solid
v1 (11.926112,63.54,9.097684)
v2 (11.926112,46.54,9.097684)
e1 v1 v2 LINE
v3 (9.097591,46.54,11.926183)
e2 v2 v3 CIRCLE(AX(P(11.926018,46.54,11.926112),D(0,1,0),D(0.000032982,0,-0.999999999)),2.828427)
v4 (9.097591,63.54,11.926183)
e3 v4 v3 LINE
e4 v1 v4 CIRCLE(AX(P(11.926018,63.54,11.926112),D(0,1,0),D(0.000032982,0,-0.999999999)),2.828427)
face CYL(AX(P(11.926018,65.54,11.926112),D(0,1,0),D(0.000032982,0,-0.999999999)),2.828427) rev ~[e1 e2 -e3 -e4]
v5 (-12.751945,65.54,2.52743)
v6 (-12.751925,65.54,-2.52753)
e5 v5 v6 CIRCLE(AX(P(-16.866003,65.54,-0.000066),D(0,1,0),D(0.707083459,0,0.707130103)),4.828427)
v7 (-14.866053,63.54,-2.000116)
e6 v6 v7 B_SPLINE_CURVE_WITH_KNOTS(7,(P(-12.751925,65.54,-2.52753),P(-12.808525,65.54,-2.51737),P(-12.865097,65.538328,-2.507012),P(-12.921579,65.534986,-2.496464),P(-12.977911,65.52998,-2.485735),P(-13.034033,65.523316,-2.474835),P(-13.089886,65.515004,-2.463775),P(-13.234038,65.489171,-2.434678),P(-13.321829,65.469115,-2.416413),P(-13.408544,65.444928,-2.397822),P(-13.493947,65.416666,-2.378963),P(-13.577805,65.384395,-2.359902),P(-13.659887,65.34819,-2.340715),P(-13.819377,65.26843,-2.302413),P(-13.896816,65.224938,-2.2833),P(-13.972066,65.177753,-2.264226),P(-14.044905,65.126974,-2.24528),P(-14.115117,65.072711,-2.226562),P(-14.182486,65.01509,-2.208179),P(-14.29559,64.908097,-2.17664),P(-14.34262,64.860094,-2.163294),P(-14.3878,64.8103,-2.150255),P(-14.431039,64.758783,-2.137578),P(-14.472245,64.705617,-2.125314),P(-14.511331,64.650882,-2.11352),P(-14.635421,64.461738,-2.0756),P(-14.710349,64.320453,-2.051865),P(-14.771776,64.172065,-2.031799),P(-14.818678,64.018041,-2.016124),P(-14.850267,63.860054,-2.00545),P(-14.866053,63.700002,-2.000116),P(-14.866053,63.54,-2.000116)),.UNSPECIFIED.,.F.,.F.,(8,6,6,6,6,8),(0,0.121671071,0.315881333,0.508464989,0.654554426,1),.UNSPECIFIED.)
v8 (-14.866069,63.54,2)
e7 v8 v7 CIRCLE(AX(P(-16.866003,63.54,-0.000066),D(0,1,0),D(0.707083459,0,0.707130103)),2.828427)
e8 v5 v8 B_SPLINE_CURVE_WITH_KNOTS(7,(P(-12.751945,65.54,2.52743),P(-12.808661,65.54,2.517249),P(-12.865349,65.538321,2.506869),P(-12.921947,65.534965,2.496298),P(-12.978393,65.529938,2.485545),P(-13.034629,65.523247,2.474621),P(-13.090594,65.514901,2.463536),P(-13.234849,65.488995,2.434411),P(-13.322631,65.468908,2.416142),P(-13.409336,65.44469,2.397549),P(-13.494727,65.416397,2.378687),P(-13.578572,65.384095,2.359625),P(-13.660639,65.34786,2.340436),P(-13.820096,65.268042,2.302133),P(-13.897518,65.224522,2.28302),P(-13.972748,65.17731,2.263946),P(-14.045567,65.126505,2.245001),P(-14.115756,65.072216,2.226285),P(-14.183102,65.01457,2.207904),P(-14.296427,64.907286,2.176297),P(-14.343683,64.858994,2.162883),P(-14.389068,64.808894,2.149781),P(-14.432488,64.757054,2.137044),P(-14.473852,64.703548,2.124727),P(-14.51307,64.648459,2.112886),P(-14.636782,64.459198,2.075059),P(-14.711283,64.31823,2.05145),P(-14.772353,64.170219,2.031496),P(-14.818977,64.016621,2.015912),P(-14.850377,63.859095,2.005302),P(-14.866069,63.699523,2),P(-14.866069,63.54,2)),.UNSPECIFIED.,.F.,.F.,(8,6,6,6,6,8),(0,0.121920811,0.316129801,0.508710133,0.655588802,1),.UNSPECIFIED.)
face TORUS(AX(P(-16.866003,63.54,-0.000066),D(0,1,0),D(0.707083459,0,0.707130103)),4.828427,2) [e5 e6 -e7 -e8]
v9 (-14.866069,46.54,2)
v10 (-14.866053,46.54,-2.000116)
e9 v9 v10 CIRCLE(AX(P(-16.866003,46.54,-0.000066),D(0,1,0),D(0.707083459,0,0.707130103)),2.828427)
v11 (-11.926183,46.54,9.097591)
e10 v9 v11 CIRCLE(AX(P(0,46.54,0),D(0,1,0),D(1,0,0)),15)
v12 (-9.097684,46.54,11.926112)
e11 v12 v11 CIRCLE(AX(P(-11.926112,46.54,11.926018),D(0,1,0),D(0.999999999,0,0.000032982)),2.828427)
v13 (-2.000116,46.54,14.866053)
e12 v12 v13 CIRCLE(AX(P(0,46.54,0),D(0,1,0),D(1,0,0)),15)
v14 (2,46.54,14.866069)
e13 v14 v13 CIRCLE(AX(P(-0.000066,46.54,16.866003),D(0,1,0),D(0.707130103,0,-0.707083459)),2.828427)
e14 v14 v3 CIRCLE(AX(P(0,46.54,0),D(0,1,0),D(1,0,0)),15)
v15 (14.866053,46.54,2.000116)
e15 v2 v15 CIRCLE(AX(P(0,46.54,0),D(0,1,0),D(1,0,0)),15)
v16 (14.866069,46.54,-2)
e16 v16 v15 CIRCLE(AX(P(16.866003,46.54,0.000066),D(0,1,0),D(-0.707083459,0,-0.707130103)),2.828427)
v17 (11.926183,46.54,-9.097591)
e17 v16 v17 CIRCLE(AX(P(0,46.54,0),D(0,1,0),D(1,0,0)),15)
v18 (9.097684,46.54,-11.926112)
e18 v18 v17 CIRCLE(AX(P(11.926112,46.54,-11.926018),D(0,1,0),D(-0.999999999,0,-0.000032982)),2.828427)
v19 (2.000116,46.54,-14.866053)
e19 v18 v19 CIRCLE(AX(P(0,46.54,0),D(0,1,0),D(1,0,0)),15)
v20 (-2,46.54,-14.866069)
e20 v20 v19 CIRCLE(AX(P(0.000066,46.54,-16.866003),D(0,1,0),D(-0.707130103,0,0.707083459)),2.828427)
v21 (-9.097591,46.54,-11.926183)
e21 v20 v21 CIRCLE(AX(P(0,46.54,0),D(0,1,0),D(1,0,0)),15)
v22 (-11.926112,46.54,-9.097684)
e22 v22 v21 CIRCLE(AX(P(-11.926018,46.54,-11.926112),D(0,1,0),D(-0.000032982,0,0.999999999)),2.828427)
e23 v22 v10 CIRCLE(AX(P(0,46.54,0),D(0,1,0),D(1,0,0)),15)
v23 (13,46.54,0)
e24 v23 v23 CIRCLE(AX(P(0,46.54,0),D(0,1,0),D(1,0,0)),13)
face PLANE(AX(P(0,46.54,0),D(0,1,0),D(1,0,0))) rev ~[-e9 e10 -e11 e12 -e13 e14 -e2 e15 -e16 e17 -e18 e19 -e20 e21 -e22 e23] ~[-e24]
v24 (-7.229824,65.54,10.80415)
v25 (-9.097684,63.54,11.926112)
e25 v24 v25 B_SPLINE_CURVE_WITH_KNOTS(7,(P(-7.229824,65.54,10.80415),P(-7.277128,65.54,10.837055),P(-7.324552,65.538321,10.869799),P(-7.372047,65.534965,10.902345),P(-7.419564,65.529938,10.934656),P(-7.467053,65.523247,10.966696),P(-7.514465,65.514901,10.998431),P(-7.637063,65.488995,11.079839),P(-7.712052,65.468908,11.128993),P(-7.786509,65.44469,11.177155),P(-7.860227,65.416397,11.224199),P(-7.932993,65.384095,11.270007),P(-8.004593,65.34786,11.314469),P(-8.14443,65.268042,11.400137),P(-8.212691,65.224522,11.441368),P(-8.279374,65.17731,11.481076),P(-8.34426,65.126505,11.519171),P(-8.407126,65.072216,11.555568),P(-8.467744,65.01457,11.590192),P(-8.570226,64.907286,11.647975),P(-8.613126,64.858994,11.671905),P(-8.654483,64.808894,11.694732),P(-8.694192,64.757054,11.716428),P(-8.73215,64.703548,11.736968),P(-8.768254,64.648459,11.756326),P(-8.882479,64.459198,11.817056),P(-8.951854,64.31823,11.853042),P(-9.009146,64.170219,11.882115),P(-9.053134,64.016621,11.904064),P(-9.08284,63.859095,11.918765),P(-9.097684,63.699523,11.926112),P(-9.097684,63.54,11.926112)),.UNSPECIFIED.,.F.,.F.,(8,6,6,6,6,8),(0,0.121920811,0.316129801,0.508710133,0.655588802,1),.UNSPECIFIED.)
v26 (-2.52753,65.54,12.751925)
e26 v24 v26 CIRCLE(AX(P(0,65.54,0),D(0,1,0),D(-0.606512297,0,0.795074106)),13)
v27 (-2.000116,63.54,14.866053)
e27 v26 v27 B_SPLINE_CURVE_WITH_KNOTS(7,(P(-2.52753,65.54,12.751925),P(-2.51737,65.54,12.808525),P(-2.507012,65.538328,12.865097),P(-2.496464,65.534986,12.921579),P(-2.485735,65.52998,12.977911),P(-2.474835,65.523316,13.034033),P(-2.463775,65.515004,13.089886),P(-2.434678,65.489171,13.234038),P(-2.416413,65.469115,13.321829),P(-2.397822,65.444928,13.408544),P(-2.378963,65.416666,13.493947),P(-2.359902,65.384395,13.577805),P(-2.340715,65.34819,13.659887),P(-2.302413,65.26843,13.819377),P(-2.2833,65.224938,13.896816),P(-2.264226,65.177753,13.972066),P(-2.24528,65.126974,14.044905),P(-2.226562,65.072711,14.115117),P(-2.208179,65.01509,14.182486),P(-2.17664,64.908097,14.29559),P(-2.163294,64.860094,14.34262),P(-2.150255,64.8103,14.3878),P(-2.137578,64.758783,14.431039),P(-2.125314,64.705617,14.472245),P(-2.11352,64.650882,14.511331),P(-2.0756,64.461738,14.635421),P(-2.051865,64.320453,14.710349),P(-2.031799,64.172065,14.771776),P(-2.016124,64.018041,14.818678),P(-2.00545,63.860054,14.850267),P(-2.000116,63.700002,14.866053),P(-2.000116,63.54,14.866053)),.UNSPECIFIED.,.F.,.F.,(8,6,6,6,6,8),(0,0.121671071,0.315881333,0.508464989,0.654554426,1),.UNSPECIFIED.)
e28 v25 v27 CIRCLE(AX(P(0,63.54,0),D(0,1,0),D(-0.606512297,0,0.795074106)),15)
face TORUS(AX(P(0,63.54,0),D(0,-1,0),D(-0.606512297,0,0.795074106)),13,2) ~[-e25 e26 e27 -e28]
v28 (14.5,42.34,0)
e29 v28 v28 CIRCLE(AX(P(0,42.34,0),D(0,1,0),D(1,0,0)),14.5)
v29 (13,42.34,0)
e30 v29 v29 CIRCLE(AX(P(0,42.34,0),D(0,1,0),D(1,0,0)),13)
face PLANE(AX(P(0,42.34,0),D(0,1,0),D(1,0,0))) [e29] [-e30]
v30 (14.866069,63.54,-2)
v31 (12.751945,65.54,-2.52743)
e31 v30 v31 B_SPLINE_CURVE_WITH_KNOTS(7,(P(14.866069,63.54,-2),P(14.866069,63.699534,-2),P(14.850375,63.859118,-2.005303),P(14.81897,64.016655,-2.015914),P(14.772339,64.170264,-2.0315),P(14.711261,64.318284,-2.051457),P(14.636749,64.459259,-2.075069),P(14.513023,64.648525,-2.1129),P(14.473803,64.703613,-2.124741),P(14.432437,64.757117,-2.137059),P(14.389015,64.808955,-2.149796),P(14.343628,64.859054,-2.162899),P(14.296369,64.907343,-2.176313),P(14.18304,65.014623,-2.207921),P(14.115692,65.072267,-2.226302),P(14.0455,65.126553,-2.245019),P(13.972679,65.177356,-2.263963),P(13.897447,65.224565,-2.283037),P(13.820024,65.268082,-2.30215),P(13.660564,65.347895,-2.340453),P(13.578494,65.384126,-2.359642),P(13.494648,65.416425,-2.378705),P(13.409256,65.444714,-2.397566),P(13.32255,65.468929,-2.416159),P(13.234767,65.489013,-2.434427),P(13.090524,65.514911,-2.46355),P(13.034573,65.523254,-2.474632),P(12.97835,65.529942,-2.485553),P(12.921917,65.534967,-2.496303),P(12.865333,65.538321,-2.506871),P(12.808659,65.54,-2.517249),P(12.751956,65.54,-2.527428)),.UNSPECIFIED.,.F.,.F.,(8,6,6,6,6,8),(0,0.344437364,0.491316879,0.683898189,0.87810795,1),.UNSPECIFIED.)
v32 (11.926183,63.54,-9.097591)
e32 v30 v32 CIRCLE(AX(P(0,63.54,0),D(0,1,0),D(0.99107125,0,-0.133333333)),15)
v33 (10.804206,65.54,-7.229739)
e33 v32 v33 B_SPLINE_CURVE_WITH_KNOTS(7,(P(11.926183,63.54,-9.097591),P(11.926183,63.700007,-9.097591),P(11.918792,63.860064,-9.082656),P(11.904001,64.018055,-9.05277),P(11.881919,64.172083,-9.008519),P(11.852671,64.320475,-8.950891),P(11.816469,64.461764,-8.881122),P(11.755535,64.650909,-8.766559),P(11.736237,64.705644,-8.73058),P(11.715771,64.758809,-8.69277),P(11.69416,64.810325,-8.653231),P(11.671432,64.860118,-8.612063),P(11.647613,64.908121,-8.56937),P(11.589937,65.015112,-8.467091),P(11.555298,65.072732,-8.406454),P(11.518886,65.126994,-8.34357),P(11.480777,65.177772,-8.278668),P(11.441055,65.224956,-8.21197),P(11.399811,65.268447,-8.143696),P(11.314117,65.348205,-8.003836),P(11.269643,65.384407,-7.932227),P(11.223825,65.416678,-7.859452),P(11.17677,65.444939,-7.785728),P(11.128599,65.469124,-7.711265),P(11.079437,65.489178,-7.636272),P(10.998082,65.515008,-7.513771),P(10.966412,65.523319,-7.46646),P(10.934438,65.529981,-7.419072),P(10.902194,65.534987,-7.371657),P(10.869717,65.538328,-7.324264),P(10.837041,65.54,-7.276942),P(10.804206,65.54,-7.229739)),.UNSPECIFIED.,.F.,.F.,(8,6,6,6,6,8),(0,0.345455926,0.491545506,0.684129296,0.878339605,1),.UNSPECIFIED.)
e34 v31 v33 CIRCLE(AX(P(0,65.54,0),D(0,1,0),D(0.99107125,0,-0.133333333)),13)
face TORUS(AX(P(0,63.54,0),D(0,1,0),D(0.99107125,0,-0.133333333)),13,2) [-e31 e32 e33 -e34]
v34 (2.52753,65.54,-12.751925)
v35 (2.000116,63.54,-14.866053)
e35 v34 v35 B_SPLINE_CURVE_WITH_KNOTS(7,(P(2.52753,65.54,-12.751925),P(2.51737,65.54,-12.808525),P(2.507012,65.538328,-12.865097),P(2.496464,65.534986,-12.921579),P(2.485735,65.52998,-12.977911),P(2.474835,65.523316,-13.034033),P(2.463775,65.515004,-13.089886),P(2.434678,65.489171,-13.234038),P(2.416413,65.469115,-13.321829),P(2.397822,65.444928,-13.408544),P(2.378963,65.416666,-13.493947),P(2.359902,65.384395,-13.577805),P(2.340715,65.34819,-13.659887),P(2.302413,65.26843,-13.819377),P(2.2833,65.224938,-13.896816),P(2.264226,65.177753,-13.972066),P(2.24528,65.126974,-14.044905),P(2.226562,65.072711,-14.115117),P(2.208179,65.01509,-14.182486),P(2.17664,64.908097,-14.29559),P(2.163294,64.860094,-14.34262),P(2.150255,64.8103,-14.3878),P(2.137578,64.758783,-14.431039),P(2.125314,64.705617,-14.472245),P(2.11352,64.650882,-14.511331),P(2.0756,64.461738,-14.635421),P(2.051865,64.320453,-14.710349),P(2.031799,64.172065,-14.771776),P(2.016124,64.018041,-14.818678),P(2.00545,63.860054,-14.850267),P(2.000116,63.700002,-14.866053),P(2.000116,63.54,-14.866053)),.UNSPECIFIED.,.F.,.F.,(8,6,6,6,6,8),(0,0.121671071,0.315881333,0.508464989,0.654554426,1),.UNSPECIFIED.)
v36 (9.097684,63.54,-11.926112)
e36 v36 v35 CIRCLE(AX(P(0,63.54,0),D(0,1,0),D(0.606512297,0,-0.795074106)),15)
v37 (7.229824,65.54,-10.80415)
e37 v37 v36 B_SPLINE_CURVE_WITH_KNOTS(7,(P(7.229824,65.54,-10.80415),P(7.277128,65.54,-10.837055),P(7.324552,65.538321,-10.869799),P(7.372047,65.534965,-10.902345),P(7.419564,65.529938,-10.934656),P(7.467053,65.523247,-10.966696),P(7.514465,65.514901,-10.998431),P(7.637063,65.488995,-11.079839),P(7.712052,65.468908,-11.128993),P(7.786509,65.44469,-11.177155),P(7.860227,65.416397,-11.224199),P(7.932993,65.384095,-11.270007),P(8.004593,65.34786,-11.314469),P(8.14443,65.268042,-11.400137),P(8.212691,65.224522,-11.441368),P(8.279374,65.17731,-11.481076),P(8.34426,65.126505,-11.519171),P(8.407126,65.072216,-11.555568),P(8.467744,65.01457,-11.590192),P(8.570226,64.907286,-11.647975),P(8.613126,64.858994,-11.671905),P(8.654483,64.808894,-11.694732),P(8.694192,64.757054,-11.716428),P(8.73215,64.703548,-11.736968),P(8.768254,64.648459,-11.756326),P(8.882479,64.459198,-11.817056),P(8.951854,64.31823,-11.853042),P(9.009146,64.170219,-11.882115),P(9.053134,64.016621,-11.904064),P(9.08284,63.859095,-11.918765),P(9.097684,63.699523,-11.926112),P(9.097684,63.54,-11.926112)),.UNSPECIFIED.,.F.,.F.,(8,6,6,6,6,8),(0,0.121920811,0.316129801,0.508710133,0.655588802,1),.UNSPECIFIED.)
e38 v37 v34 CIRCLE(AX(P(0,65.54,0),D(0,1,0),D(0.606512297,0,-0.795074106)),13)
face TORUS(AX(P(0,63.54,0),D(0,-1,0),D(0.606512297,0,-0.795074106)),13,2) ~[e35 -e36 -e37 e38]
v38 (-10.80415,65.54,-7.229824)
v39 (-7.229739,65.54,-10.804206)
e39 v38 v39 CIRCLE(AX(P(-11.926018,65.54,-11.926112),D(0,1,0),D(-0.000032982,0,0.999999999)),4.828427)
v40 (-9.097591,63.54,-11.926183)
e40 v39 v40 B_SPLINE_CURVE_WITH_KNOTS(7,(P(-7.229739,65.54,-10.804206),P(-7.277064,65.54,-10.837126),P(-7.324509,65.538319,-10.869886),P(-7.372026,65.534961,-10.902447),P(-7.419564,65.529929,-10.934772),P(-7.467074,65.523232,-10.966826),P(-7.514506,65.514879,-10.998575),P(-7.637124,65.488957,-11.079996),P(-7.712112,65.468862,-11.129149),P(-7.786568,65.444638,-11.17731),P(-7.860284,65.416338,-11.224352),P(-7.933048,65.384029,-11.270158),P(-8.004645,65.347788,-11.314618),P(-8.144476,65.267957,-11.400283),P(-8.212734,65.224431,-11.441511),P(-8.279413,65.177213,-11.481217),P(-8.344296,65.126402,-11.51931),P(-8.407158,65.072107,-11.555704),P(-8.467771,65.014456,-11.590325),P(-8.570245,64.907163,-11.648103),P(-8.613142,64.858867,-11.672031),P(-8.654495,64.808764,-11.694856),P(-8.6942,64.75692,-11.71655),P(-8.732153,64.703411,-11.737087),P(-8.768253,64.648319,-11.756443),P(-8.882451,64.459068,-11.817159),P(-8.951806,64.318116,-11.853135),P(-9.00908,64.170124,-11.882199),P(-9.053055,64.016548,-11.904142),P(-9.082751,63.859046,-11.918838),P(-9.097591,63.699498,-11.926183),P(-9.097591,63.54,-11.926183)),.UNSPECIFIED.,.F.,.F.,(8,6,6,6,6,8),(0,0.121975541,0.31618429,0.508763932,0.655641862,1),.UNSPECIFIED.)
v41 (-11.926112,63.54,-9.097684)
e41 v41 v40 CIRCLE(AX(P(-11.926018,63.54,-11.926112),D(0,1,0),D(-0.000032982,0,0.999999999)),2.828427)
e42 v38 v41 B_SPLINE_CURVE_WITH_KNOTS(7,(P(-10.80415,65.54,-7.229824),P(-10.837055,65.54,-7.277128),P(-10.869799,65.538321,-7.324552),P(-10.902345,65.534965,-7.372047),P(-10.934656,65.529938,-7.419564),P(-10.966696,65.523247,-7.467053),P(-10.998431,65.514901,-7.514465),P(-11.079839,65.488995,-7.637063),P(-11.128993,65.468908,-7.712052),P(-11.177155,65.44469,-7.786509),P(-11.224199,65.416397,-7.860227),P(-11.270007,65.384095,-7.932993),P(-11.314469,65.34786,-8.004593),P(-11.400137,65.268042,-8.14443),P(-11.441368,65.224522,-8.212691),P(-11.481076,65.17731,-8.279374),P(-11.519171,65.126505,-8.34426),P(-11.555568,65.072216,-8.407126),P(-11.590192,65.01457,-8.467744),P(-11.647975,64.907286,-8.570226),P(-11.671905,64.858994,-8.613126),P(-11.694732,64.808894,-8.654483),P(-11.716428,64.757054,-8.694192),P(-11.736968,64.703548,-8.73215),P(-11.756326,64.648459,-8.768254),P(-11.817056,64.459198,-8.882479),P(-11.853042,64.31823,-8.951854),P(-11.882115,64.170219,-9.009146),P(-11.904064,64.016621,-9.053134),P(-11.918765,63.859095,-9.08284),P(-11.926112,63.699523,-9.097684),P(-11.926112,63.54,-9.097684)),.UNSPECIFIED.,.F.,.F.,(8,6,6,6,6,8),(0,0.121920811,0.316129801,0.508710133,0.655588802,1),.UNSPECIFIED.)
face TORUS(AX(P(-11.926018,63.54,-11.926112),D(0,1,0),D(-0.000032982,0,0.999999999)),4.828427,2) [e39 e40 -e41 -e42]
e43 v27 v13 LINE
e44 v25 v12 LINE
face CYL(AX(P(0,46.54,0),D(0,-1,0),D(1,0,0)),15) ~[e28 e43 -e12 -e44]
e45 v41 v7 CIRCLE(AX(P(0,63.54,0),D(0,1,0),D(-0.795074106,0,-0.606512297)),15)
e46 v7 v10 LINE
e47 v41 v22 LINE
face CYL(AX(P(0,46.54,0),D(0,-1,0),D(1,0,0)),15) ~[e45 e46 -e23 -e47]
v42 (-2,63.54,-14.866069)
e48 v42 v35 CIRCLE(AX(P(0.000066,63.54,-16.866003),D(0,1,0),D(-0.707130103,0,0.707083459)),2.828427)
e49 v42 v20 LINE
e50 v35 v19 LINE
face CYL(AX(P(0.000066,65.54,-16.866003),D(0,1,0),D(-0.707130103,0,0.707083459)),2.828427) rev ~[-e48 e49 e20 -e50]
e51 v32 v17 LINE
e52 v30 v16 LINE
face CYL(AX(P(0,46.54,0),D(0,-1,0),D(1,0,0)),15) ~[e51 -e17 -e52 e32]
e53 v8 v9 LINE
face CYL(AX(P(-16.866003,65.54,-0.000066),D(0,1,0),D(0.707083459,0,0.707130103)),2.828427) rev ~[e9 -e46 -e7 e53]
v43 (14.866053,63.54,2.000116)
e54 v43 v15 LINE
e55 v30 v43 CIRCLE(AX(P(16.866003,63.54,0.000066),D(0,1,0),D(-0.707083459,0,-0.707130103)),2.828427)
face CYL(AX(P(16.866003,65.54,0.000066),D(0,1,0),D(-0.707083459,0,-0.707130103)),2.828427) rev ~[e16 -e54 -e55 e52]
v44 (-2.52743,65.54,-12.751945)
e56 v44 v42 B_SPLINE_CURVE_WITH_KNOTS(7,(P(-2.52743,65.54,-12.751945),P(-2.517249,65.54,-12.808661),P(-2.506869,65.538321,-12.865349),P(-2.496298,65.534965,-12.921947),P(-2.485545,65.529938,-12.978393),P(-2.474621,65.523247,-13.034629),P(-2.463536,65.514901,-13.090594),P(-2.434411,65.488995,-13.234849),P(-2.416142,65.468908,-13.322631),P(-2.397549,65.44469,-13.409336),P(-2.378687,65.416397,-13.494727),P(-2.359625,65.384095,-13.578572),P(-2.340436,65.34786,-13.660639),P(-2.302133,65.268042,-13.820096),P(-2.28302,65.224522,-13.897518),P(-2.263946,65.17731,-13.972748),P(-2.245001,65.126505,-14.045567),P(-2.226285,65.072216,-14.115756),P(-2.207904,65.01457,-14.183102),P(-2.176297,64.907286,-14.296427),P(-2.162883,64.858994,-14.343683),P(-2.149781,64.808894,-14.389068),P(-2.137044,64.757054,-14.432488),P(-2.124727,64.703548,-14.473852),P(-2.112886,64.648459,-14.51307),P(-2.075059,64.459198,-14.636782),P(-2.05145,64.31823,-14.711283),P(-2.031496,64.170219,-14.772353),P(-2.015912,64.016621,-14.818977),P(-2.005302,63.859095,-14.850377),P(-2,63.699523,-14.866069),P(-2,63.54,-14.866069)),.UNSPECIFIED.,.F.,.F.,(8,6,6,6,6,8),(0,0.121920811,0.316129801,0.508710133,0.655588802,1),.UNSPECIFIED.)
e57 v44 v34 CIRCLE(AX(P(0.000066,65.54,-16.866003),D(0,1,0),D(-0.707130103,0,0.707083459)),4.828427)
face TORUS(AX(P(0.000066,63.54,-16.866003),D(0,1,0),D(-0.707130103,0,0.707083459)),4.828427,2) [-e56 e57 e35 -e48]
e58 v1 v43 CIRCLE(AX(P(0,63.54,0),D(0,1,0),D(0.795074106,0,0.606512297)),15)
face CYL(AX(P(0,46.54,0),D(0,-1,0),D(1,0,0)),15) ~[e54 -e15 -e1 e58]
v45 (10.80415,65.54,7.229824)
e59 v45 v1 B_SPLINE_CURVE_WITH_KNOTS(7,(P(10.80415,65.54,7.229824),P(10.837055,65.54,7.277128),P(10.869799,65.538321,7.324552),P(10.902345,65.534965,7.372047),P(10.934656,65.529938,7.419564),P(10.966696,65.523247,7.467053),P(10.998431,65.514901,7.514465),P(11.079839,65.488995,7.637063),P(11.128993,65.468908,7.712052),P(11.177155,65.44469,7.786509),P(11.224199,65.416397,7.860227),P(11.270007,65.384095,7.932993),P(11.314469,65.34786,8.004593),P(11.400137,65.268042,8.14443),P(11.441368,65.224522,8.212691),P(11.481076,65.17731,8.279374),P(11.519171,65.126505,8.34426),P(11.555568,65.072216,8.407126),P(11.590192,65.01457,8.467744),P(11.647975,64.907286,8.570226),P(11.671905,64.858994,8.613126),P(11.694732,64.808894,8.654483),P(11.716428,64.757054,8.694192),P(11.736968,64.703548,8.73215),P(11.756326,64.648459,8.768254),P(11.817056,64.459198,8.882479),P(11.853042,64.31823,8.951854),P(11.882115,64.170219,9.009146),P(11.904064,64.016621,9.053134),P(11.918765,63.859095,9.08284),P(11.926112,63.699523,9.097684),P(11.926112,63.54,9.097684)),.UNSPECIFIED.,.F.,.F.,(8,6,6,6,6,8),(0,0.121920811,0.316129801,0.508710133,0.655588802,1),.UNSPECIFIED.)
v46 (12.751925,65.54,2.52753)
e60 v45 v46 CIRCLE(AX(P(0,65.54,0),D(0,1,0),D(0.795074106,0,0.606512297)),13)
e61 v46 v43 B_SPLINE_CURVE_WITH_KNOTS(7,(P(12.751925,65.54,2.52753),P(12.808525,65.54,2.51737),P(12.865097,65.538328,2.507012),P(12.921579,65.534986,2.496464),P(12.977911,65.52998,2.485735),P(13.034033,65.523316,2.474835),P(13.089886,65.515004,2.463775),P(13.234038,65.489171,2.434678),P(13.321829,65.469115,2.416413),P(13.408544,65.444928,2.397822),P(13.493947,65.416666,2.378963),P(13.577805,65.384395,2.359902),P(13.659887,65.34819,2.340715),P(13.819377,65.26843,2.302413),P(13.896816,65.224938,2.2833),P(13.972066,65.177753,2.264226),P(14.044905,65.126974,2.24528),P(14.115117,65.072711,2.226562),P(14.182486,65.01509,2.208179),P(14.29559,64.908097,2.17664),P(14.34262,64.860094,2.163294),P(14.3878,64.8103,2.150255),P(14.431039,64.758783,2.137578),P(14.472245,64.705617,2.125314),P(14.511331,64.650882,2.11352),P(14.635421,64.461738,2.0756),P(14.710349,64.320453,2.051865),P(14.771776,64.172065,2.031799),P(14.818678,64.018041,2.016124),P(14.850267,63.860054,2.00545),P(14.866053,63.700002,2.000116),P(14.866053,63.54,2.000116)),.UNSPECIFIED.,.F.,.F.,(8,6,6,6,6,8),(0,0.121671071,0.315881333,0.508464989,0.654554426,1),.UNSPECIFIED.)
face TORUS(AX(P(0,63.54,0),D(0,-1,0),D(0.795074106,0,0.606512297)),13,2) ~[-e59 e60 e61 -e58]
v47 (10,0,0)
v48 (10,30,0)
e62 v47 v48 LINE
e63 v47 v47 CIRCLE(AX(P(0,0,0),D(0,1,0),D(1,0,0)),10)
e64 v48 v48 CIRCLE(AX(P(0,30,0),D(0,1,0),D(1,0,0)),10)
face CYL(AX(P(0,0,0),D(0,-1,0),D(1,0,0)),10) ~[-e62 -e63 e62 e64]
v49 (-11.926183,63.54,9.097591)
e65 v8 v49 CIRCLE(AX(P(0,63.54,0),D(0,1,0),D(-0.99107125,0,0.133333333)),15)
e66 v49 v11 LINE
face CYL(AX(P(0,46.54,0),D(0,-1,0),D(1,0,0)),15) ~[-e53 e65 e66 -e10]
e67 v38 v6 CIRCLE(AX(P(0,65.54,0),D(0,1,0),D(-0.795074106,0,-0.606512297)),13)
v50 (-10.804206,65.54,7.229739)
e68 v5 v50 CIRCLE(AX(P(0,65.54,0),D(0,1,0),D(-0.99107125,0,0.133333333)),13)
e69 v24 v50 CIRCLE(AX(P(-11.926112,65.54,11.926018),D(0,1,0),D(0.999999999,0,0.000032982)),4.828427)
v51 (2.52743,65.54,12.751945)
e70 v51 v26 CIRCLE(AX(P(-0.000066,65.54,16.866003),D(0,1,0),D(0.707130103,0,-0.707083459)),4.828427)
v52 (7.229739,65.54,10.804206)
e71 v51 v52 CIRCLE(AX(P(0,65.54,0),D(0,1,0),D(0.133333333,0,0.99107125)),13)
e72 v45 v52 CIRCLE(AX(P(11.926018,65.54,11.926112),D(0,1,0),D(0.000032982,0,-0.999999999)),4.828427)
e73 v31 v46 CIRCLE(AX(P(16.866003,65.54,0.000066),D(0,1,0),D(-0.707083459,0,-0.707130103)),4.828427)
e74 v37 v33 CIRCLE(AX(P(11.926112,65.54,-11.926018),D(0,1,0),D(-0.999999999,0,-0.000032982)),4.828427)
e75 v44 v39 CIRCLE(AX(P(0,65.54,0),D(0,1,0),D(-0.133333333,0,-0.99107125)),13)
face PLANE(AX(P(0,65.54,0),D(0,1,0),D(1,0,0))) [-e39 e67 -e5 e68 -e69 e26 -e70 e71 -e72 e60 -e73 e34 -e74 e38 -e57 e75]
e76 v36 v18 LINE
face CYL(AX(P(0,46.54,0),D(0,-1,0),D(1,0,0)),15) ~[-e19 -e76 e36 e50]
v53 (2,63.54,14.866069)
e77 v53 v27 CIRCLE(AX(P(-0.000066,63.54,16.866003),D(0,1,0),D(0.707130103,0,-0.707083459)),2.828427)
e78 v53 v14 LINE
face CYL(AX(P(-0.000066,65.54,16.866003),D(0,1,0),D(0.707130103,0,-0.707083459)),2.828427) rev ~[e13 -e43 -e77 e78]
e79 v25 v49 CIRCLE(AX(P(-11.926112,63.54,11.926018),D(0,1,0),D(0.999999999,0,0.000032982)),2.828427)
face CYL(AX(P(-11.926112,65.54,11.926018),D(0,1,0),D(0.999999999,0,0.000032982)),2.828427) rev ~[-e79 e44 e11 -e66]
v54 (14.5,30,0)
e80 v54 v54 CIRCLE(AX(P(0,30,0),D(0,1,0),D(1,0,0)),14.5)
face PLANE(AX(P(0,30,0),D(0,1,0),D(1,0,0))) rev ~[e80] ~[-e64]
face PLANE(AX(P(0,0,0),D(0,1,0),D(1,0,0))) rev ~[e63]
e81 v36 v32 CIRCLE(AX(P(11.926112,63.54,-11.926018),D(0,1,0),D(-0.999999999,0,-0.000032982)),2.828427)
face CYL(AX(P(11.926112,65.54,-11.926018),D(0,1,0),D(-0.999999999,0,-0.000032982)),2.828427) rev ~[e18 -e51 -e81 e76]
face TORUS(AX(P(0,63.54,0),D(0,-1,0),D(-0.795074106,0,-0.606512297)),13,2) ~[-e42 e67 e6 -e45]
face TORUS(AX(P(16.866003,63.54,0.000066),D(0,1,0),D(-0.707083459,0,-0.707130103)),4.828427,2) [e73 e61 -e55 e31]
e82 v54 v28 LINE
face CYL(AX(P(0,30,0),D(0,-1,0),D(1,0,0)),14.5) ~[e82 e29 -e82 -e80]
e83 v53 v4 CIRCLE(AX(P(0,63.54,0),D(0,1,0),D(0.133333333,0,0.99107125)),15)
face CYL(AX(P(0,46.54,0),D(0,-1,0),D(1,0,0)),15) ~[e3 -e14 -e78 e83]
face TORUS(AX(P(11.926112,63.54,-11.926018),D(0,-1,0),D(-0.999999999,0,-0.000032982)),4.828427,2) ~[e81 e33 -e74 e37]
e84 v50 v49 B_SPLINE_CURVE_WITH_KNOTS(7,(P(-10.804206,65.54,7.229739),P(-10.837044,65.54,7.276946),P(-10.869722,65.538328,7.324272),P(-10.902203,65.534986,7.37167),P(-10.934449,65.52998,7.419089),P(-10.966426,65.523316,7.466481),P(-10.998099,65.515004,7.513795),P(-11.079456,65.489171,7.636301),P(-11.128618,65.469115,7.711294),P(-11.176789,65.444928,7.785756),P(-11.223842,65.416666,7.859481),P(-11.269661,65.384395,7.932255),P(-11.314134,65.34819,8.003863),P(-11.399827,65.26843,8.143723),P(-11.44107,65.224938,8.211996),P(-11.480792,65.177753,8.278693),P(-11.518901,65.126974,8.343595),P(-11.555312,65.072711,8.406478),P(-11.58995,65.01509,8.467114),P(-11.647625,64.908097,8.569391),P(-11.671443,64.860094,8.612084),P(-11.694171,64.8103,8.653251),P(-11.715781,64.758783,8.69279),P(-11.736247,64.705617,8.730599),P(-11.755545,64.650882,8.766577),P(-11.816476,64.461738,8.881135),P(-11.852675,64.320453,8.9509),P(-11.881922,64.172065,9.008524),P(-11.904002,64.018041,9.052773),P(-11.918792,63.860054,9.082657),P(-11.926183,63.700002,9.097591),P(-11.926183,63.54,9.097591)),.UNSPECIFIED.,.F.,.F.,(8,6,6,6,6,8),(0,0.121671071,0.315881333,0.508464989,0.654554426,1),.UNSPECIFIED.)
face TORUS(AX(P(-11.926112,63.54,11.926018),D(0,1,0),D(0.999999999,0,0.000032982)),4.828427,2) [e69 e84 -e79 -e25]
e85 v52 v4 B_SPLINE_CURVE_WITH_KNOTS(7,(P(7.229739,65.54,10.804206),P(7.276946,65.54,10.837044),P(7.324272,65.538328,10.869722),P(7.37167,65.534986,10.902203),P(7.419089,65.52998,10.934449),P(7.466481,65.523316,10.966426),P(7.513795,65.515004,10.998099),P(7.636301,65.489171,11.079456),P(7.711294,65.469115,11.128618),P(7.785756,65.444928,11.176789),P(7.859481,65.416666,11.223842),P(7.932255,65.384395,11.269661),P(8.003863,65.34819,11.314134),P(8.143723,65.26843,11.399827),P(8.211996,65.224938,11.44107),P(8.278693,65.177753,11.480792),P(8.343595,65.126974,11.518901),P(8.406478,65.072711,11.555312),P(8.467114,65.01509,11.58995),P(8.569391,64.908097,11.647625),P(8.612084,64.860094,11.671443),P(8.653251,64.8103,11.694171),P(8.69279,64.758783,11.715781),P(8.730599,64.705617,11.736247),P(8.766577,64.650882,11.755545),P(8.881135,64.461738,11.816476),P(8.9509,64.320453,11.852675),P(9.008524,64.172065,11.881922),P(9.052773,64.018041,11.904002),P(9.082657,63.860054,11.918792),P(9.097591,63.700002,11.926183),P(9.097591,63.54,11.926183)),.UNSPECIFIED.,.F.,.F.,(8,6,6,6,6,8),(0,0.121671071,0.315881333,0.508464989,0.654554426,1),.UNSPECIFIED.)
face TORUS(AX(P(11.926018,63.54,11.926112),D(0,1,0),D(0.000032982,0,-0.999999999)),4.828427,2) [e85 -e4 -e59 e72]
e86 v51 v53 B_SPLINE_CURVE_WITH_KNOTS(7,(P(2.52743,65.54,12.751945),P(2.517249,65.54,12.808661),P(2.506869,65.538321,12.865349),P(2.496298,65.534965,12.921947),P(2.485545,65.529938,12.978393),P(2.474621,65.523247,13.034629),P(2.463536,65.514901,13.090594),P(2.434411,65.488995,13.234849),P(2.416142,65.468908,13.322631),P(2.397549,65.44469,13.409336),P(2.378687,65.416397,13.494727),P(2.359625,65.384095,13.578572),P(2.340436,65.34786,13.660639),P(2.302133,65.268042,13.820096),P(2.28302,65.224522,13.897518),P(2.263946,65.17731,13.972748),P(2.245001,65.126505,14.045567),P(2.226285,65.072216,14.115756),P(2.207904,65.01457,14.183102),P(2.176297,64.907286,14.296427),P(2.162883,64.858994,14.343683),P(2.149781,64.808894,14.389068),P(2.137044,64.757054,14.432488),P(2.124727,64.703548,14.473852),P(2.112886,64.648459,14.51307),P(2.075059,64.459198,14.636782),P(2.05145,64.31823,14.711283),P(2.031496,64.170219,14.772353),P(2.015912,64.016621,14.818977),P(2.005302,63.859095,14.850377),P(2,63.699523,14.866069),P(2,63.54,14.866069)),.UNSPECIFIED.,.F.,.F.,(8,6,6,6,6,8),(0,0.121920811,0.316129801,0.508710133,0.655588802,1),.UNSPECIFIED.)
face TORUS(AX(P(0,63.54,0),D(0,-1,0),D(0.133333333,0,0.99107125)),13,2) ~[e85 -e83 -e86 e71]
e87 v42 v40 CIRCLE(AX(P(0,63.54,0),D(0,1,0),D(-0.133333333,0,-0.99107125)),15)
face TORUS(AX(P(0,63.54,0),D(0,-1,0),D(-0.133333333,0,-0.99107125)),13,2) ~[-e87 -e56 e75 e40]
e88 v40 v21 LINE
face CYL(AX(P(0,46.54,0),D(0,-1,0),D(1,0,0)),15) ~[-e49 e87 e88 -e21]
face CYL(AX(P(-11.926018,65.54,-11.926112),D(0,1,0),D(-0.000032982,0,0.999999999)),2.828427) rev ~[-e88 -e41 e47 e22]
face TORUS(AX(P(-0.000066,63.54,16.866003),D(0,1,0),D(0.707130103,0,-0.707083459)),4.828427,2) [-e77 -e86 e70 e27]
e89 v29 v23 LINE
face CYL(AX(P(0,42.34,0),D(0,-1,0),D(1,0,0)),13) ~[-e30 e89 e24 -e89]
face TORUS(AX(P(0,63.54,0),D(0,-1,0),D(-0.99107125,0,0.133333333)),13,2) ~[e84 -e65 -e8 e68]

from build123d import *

# Parameters (mm, degrees)
SKETCH1_R           = 10
BOSS_EXTRUDE1_DEPTH = 30
SKETCH2_R           = 14.5
BOSS_EXTRUDE2_DEPTH = 12.34
SKETCH3_R           = 13
BOSS_EXTRUDE3_DEPTH = 4.2
SKETCH4_R           = 15
BOSS_EXTRUDE4_DEPTH = 19
CUT_EXTRUDE1_DEPTH  = 19
FILLET2_R           = 2


with BuildPart() as part:
    # Sketch1 → Boss-Extrude1 (new body)
    with BuildSketch(Plane(origin=(0, 0, 0), x_dir=(1, 0, 0), z_dir=(0, 1, 0))):
        Circle(SKETCH1_R)
    extrude(amount=BOSS_EXTRUDE1_DEPTH)

    # Sketch2 → Boss-Extrude2 (add)
    with BuildSketch(Plane(origin=(0, 30, 0), x_dir=(1, 0, 0), z_dir=(0, 1, 0))):
        Circle(SKETCH2_R)
    extrude(amount=BOSS_EXTRUDE2_DEPTH)

    # Sketch3 → Boss-Extrude3 (add)
    with BuildSketch(Plane(origin=(0, 42.34, 0), x_dir=(1, 0, 0), z_dir=(0, 1, 0))):
        Circle(SKETCH3_R)
    extrude(amount=BOSS_EXTRUDE3_DEPTH)

    # Sketch4 → Boss-Extrude4 (add)
    with BuildSketch(Plane(origin=(0, 46.54, 0), x_dir=(1, 0, 0), z_dir=(0, 1, 0))):
        Circle(SKETCH4_R)
    extrude(amount=BOSS_EXTRUDE4_DEPTH)

    # Sketch5 → Cut-Extrude1 (cut)
    with BuildSketch(Plane(origin=(0, 65.54, 0), x_dir=(1, 0, 0), z_dir=(0, 1, 0))):
        with BuildLine():
            ThreePointArc((-14.866053103, 2.000116283), (-15, 5.8666e-05), (-14.866068747, -2))
            ThreePointArc((-14.866068747, -2), (-14.037575657, 5.4901e-05), (-14.866053103, 2.000116283))
        make_face()
        with BuildLine():
            ThreePointArc((-2, 14.866068747), (5.4901e-05, 14.037575657), (2.000116283, 14.866053103))
            ThreePointArc((2.000116283, 14.866053103), (5.8666e-05, 15), (-2, 14.866068747))
        make_face()
        with BuildLine():
            ThreePointArc((9.097684458, 11.926111583), (9.92610376, 9.926026117), (11.926182746, 9.097591171))
            ThreePointArc((11.926182746, 9.097591171), (10.606643201, 10.606560235), (9.097684458, 11.926111583))
        make_face()
        with BuildLine():
            ThreePointArc((14.866068747, 2), (14.037575657, -5.4901e-05), (14.866053103, -2.000116283))
            ThreePointArc((14.866053103, -2.000116283), (15, -5.8666e-05), (14.866068747, 2))
        make_face()
        with BuildLine():
            ThreePointArc((11.926111583, -9.097684458), (9.926026117, -9.92610376), (9.097591171, -11.926182746))
            ThreePointArc((9.097591171, -11.926182746), (10.606560235, -10.606643201), (11.926111583, -9.097684458))
        make_face()
        with BuildLine():
            ThreePointArc((2, -14.866068747), (-5.4901e-05, -14.037575657), (-2.000116283, -14.866053103))
            ThreePointArc((-2.000116283, -14.866053103), (-5.8666e-05, -15), (2, -14.866068747))
        make_face()
        with BuildLine():
            ThreePointArc((-9.097684458, -11.926111583), (-9.92610376, -9.926026117), (-11.926182746, -9.097591171))
            ThreePointArc((-11.926182746, -9.097591171), (-10.606643201, -10.606560235), (-9.097684458, -11.926111583))
        make_face()
        with BuildLine():
            ThreePointArc((-11.926111583, 9.097684458), (-9.926026117, 9.92610376), (-9.097591171, 11.926182746))
            ThreePointArc((-9.097591171, 11.926182746), (-10.606560235, 10.606643201), (-11.926111583, 9.097684458))
        make_face()
    extrude(amount=-CUT_EXTRUDE1_DEPTH, mode=Mode.SUBTRACT)

    # Fillet2
    fillet2_edges = [part.edges().sort_by_distance(p)[0] for p in [
        (-5.740197286, 65.54, -13.858215438),
        (5.4901e-05, 65.54, -14.037575657),
        (5.740305685, 65.54, -13.858170537),
        (9.92610376, 65.54, -9.926026117),
        (13.858215438, 65.54, -5.740197286),
        (14.037575657, 65.54, 5.4901e-05),
        (13.858170537, 65.54, 5.740305685),
        (9.926026117, 65.54, 9.92610376),
        (5.740197286, 65.54, 13.858215438),
        (-5.4901e-05, 65.54, 14.037575657),
        (-5.740305685, 65.54, 13.858170537),
        (-9.92610376, 65.54, 9.926026117),
        (-13.858215438, 65.54, 5.740197286),
        (-14.037575657, 65.54, -5.4901e-05),
        (-13.858170537, 65.54, -5.740305685),
        (-9.926026117, 65.54, -9.92610376),
    ]]
    fillet(fillet2_edges, radius=FILLET2_R)


solid = part.part
